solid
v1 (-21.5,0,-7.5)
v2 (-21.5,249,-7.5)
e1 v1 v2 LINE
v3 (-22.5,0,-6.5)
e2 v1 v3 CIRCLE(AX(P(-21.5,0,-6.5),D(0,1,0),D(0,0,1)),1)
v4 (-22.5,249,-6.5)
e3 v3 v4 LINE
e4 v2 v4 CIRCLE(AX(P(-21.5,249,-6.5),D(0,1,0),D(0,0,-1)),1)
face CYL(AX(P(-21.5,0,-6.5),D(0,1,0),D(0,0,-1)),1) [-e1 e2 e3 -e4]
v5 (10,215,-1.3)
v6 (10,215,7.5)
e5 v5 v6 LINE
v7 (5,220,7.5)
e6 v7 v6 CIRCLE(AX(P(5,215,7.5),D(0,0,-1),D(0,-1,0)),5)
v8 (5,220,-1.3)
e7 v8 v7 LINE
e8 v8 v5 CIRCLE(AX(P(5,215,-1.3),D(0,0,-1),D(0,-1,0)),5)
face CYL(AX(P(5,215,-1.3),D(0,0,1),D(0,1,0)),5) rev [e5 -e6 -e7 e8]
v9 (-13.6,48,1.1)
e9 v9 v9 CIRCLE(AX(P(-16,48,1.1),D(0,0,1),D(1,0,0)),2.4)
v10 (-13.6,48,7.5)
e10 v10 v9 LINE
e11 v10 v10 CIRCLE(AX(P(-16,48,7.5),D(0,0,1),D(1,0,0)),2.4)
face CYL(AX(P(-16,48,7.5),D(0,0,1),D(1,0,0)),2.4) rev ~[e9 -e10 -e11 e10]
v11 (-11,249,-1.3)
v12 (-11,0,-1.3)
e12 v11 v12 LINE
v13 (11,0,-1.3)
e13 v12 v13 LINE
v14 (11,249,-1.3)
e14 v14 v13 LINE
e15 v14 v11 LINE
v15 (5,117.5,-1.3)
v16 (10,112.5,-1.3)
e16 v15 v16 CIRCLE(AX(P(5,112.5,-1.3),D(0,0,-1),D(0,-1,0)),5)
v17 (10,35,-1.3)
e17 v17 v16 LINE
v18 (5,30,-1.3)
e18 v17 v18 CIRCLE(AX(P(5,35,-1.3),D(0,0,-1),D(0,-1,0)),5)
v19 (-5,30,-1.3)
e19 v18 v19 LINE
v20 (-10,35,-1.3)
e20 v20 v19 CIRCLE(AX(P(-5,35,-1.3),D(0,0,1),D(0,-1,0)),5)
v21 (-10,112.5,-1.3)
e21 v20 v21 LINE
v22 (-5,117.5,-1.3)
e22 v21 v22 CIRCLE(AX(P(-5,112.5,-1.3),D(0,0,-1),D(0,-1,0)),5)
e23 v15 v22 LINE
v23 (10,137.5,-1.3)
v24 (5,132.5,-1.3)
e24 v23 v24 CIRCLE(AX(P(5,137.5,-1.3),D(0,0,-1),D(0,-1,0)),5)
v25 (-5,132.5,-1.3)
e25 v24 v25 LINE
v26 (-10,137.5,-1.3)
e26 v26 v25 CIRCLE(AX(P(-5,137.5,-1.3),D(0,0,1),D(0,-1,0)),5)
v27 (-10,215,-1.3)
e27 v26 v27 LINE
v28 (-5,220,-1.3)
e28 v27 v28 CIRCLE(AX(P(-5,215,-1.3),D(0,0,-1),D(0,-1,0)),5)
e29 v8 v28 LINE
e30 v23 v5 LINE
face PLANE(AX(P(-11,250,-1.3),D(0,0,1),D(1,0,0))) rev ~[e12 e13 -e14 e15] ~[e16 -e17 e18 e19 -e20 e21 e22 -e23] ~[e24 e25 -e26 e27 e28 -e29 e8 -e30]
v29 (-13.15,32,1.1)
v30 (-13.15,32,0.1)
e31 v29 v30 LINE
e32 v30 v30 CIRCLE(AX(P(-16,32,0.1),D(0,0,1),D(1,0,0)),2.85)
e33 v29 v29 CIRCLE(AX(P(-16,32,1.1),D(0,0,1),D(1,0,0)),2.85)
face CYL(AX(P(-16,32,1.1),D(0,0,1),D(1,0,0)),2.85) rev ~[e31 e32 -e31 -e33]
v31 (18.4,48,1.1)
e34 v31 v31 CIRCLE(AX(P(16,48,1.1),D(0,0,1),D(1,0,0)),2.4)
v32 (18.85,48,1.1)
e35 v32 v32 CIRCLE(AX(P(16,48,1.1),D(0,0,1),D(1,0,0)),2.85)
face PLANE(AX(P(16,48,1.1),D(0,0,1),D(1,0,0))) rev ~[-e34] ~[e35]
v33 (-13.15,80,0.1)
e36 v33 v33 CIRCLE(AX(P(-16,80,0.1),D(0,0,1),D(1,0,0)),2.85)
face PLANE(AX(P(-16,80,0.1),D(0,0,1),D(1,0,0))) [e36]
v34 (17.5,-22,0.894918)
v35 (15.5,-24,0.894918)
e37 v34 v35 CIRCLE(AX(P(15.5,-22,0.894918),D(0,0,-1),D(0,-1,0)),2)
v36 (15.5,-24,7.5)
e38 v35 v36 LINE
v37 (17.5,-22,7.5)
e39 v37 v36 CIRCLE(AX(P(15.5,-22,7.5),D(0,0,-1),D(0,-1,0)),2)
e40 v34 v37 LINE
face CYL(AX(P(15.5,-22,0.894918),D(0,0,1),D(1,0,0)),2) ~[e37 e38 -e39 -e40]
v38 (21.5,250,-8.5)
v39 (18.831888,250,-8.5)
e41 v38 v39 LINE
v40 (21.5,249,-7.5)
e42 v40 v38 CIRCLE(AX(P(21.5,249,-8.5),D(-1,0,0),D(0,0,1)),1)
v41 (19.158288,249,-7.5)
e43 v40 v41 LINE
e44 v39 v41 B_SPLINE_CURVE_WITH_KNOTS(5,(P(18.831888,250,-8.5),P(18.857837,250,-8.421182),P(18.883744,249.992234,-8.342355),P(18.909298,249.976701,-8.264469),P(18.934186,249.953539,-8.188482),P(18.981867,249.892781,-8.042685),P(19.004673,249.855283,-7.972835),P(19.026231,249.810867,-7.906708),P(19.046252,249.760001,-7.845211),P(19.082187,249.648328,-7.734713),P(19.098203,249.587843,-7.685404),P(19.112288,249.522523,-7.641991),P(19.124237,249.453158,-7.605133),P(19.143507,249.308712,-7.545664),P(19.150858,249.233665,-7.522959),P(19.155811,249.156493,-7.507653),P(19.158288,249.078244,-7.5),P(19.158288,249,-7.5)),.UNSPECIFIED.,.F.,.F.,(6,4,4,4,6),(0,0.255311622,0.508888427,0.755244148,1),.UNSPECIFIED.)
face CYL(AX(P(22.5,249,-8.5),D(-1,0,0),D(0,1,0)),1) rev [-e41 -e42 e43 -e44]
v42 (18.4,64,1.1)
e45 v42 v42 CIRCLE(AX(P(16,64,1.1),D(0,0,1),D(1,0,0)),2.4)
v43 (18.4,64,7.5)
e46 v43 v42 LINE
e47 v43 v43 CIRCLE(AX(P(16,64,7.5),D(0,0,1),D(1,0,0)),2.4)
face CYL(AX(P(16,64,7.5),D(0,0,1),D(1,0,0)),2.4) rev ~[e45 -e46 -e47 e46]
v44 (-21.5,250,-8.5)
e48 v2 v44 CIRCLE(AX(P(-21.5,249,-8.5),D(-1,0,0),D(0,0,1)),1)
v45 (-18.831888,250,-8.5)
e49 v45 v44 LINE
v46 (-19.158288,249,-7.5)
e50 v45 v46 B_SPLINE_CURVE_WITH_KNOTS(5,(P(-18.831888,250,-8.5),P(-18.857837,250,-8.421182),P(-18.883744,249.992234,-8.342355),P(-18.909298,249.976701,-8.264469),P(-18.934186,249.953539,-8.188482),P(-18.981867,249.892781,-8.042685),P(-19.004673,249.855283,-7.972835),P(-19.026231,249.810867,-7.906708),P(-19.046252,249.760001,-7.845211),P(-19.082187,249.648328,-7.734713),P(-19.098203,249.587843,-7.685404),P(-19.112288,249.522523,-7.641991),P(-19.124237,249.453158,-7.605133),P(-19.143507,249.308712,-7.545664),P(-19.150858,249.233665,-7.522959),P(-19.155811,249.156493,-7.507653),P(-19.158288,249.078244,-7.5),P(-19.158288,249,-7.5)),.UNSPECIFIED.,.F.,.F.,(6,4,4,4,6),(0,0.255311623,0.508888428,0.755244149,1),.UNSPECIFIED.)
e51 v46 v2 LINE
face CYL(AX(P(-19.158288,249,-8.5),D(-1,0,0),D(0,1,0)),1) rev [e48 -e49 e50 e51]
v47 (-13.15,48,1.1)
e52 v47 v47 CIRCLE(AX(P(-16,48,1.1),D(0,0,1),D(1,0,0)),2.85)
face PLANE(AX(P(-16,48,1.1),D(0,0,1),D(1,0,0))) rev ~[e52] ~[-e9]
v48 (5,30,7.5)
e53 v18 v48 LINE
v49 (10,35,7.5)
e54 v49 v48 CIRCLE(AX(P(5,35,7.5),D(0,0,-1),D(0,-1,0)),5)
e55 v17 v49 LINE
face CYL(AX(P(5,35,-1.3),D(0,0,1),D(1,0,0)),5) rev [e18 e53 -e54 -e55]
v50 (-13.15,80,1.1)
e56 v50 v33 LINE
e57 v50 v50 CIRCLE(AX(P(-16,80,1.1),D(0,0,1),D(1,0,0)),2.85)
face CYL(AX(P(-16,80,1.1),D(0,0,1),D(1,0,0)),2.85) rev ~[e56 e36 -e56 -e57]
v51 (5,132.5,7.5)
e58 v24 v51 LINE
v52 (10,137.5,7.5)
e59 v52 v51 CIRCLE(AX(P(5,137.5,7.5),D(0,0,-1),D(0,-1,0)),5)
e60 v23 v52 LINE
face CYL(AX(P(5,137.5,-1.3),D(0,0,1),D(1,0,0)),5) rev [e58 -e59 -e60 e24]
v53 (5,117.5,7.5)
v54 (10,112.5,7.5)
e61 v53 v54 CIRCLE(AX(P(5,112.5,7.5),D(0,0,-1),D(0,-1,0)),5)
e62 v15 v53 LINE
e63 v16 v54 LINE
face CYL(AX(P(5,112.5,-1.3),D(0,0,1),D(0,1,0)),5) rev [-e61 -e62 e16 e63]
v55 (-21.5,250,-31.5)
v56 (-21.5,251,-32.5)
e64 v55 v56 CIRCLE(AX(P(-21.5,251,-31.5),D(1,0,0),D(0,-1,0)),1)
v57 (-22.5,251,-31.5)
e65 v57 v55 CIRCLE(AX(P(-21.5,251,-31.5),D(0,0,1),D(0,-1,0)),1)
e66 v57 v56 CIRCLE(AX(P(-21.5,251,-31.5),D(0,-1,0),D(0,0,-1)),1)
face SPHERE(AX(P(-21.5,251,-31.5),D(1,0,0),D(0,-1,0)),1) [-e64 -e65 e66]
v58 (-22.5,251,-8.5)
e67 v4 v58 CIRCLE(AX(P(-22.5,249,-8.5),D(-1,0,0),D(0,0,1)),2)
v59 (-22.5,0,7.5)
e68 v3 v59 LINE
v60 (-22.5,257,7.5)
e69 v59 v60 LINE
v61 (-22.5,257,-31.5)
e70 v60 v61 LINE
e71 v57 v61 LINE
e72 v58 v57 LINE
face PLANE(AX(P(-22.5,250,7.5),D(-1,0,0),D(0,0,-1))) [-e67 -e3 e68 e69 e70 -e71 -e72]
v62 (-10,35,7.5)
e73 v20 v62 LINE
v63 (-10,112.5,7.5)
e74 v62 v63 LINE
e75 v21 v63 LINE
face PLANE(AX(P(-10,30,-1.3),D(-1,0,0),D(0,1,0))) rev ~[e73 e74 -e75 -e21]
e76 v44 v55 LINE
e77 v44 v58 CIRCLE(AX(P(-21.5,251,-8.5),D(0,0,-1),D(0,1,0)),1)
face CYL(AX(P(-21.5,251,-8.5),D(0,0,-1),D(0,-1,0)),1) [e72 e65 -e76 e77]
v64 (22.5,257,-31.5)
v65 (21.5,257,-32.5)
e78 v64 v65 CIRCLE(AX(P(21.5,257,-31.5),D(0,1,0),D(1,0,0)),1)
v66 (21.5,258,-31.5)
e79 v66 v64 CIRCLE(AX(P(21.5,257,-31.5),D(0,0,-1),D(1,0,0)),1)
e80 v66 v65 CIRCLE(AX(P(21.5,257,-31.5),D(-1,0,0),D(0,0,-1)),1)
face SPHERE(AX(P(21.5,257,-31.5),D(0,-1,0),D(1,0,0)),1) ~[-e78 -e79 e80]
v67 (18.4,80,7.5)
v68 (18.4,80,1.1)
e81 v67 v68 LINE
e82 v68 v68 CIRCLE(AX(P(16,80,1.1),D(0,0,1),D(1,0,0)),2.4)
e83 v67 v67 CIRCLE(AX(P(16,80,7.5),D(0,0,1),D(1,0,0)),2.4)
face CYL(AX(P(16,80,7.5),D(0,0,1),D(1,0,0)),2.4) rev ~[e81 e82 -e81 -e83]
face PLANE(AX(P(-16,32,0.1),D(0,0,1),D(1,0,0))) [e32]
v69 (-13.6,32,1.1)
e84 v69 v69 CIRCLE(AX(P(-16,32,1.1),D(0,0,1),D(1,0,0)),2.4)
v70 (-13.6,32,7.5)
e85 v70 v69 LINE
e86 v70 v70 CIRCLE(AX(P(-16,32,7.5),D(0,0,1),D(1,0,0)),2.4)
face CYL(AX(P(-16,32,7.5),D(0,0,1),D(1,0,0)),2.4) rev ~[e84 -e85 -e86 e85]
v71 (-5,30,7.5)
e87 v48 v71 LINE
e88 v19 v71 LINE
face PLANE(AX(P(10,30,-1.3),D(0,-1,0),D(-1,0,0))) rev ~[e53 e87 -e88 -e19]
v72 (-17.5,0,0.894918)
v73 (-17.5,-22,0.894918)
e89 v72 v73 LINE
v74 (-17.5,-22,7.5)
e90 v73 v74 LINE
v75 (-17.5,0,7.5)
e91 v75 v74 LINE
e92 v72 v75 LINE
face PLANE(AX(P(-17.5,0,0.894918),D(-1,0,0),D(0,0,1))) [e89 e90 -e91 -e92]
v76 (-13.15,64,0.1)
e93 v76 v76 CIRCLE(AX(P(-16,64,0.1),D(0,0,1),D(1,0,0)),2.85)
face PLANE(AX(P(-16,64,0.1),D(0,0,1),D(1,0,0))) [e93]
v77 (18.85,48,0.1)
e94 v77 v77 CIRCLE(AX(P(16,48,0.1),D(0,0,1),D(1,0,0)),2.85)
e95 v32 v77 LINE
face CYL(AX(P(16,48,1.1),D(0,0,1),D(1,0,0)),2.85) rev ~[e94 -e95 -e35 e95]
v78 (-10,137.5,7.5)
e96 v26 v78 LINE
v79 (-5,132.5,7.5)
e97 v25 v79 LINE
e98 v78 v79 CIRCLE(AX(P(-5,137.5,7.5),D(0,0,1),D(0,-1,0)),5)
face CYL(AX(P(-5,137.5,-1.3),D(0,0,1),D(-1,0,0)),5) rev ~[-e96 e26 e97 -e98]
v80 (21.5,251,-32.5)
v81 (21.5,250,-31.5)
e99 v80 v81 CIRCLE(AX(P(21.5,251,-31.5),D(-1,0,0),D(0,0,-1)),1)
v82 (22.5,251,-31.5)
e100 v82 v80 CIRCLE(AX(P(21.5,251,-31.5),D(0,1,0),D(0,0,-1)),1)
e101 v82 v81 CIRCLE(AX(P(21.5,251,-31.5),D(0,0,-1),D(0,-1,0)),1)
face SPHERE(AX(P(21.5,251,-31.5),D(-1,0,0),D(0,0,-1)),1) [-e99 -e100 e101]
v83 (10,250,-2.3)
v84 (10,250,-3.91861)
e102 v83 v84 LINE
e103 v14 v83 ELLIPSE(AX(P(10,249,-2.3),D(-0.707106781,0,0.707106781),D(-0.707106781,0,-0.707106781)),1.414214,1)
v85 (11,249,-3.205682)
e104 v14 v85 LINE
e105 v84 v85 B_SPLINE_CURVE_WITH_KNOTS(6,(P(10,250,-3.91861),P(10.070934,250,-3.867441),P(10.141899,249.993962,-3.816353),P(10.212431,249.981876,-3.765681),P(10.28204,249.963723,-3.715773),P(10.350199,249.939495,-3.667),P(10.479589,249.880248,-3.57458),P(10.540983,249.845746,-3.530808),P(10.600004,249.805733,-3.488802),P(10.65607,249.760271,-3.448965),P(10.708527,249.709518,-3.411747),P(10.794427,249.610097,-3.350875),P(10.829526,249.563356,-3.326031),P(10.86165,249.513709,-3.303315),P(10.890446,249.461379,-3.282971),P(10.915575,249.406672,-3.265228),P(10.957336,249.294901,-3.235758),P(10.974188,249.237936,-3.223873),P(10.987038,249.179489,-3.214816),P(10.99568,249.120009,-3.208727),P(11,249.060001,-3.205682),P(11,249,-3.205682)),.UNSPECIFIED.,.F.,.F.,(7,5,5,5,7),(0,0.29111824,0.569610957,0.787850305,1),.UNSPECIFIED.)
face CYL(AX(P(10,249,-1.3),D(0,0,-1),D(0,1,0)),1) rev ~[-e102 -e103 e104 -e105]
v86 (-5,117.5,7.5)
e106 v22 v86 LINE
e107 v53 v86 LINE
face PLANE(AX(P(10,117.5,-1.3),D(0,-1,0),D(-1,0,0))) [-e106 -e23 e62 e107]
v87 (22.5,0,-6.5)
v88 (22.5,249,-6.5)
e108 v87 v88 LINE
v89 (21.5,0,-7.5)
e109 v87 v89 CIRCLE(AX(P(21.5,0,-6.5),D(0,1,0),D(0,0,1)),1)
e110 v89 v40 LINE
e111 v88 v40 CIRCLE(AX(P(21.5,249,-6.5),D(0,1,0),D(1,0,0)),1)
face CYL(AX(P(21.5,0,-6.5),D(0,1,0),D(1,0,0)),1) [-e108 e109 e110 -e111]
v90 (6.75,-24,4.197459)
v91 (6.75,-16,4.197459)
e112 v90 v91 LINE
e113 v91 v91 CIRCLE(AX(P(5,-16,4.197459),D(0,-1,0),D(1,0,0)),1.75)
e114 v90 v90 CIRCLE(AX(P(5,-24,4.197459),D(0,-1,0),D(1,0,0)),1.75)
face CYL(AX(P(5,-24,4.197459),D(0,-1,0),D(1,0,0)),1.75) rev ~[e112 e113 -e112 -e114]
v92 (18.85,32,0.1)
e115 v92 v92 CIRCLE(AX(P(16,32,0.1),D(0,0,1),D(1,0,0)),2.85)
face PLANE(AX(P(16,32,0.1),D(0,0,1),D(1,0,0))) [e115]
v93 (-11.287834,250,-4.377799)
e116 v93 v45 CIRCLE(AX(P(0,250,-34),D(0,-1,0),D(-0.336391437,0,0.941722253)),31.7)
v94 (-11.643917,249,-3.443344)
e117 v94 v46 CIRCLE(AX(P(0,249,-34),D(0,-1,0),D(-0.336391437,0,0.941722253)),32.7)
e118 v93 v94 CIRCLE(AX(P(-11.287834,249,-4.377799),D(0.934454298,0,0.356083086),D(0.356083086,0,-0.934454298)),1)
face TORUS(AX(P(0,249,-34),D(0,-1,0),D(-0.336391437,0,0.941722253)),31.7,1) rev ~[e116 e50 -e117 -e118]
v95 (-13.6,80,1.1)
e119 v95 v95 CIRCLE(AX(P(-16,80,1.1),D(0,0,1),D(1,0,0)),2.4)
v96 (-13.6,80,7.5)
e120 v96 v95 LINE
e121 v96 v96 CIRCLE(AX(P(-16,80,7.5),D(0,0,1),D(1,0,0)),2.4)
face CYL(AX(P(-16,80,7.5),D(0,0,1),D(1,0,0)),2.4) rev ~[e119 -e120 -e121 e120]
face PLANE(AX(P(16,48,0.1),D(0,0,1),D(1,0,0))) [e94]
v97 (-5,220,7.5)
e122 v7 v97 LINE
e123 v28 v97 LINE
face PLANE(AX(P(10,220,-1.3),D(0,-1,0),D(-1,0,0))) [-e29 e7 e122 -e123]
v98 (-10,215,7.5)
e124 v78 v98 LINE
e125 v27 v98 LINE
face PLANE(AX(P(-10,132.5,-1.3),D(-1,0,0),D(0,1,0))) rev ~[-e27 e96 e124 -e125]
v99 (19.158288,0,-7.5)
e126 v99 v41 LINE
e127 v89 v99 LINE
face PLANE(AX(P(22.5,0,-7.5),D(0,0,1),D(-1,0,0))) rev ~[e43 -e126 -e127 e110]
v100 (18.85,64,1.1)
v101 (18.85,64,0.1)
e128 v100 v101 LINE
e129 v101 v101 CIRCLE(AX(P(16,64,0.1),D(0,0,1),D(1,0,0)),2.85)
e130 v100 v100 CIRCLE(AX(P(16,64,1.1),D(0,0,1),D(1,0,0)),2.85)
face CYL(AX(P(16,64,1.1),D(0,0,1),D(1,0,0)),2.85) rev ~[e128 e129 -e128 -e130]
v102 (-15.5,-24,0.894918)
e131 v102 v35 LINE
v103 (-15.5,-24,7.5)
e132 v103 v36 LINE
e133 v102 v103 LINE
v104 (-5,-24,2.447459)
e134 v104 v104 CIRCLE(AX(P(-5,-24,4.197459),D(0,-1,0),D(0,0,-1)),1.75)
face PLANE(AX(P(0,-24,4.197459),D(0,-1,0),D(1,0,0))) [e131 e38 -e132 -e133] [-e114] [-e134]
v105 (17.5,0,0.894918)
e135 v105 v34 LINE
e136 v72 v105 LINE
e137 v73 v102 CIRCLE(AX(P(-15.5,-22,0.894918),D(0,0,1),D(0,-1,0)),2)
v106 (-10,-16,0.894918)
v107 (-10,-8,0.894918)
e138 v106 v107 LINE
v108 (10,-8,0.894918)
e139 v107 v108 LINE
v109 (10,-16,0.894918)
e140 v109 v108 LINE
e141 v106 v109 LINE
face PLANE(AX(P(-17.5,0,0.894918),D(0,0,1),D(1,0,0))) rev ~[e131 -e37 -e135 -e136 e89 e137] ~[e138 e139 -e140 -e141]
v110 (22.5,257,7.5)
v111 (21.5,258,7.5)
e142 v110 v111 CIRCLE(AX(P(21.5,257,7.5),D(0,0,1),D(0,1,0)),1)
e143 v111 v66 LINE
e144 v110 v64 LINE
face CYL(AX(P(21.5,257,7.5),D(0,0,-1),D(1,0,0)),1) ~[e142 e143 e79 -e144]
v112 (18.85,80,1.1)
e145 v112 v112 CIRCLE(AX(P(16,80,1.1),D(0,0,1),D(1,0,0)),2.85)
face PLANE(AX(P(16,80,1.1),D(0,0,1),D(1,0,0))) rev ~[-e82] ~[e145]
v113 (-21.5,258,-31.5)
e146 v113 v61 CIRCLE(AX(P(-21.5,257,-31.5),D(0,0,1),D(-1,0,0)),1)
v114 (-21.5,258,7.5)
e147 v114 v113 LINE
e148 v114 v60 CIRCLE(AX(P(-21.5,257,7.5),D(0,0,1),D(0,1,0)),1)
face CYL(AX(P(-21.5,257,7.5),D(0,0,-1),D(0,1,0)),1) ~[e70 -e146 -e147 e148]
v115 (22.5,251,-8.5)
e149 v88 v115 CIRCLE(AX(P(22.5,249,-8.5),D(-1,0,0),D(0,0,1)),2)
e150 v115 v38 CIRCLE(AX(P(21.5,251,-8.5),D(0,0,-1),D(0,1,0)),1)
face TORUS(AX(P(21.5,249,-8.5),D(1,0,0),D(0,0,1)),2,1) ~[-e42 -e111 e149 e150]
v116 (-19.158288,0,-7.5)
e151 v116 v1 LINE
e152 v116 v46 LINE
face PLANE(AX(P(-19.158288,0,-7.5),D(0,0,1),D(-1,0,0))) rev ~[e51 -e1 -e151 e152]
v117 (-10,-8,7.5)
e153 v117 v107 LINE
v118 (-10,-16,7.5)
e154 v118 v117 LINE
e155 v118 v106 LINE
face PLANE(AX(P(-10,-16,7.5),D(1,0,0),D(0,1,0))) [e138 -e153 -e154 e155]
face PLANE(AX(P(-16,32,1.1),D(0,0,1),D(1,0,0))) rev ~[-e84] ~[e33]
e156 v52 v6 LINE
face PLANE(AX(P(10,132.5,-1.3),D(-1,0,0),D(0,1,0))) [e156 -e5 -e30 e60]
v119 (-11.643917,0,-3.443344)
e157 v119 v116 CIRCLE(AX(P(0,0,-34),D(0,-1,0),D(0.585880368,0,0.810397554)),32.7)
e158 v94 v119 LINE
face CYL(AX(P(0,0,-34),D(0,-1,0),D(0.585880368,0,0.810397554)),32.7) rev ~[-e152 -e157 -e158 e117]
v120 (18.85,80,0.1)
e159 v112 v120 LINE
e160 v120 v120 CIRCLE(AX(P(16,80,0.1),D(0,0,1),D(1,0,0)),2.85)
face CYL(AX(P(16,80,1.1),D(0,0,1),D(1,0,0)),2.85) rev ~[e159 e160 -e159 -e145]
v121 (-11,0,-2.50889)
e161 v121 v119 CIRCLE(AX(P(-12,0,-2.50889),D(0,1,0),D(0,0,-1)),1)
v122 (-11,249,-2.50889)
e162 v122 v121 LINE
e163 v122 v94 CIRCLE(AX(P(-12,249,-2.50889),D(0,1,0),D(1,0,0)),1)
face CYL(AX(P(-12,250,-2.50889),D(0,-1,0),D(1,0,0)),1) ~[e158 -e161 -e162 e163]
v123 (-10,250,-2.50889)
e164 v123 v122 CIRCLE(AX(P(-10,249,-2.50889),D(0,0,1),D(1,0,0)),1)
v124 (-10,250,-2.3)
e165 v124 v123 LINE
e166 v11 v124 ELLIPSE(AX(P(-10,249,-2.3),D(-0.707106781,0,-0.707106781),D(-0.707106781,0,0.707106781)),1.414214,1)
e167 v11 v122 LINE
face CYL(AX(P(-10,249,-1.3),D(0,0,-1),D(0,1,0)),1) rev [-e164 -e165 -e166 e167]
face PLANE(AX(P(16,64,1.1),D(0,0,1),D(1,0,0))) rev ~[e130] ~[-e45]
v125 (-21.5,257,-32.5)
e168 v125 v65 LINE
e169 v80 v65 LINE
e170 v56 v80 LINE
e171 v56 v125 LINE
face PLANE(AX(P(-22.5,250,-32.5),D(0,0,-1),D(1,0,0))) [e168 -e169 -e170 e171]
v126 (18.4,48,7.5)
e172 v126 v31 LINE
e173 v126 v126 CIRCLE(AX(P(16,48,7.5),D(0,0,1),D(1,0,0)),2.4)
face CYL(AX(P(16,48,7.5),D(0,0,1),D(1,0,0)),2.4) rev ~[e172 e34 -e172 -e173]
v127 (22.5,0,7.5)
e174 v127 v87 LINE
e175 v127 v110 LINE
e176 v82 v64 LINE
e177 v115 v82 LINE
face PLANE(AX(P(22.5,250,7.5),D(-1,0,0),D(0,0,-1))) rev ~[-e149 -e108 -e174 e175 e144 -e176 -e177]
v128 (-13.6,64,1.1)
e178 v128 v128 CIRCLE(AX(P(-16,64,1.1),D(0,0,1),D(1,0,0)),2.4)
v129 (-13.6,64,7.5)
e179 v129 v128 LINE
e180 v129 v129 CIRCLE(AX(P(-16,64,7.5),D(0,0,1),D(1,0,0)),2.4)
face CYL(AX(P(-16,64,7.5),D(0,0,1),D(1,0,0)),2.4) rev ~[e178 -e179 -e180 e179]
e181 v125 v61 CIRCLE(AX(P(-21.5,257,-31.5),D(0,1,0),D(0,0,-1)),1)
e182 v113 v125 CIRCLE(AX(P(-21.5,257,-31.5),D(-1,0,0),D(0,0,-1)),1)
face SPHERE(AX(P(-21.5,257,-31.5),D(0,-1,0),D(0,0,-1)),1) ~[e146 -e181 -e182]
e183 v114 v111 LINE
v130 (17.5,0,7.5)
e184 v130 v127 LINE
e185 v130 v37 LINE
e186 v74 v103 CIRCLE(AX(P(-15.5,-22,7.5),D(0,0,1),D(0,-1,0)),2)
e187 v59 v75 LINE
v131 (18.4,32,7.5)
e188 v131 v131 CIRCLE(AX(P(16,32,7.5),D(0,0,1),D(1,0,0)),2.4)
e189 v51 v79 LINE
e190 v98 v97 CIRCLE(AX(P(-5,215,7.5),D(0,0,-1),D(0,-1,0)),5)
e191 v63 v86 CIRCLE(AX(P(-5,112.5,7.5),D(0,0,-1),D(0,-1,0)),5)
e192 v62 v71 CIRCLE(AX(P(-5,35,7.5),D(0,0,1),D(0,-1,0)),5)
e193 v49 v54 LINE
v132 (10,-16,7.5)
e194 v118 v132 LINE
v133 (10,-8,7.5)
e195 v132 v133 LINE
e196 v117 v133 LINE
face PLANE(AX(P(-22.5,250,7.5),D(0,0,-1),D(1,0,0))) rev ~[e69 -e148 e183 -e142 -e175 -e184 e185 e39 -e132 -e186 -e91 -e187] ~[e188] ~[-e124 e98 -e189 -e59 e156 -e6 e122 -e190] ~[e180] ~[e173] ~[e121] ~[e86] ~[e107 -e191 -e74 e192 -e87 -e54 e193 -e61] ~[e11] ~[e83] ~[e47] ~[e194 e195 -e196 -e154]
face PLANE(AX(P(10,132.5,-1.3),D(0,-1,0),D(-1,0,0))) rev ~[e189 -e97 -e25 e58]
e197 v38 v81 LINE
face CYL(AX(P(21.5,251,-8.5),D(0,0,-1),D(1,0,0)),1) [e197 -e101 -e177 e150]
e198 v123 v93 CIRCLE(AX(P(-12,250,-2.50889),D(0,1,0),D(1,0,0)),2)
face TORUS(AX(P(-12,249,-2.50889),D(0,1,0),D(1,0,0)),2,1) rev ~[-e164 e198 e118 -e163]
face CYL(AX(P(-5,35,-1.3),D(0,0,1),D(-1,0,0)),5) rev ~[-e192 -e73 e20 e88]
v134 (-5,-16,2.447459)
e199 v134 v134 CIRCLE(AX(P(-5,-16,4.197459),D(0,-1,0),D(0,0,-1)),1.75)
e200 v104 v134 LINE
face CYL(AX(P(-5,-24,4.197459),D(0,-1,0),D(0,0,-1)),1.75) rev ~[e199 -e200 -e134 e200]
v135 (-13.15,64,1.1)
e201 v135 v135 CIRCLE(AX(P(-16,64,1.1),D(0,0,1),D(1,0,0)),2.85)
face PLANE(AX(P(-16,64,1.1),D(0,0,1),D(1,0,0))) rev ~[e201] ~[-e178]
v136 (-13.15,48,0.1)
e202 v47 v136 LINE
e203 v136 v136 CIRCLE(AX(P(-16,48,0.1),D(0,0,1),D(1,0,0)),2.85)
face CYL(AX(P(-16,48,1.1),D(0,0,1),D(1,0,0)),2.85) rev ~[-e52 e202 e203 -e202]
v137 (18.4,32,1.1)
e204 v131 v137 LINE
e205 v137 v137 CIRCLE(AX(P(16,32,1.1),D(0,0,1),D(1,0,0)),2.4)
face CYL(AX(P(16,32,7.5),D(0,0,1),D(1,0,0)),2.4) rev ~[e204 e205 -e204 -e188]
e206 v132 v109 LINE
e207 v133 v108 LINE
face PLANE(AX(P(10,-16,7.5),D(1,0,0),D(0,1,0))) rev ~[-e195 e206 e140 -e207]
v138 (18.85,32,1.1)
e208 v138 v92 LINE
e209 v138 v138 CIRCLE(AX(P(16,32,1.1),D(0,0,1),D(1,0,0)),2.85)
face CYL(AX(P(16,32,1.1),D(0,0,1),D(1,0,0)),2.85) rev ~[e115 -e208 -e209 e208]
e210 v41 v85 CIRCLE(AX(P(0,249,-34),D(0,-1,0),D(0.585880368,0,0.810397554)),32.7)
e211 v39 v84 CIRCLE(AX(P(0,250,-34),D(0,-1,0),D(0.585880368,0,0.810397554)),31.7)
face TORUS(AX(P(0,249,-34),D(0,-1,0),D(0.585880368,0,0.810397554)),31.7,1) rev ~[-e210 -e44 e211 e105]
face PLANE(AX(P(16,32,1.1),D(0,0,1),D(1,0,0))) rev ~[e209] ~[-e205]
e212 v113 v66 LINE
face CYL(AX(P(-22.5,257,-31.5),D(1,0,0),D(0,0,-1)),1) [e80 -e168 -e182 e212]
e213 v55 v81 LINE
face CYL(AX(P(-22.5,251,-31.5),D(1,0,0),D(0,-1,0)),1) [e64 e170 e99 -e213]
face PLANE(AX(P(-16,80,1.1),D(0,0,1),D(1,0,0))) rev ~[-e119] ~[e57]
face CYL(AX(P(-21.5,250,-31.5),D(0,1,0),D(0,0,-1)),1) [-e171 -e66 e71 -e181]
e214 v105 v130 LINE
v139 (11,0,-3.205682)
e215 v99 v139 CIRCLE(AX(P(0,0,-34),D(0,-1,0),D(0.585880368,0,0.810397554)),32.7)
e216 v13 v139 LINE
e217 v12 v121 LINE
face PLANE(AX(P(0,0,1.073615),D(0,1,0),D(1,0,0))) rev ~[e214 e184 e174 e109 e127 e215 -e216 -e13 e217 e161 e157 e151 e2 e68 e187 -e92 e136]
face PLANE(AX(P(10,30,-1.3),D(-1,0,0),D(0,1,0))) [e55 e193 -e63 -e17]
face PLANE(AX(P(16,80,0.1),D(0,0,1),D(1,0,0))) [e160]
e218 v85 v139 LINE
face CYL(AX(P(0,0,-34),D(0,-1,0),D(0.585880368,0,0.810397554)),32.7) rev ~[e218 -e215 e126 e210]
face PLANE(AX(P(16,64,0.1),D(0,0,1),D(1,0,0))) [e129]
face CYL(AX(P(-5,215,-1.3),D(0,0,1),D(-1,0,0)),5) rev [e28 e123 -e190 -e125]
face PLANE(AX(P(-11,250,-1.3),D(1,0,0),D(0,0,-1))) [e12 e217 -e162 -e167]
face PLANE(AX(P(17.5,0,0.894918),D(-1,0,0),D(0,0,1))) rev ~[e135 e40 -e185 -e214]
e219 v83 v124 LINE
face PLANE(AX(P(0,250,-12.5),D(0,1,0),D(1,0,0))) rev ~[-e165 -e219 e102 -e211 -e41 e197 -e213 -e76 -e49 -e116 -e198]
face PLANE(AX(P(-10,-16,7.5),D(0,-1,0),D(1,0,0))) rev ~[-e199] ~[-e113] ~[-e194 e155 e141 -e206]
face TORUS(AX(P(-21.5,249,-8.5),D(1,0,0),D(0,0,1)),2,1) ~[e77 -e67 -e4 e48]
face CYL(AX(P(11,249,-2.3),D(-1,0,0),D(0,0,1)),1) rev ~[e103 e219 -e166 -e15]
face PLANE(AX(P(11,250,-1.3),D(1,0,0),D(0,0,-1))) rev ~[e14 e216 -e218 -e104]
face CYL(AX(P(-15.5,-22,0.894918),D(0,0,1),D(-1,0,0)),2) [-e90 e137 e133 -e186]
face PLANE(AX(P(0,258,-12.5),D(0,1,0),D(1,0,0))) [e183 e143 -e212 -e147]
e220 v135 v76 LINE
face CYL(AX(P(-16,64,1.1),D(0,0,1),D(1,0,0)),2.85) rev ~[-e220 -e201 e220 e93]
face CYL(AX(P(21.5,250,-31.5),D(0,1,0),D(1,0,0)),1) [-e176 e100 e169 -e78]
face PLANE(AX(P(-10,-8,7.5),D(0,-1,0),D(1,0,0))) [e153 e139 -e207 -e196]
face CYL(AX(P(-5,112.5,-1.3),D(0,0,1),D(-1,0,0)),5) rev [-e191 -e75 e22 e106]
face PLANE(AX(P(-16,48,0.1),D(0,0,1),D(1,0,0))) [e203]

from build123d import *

# Parameters (mm, degrees)
RUNDUNG_DEPTH                   = 250
SKIZZE2_W                       = 22
SKIZZE2_H                       = 3.270726357
AUSSPARUNGLAUF_DEPTH            = 252.122480077
SKIZZE4_W                       = 20
SKIZZE4_H                       = 87.5
SCHNITT_LINEAR_AUSTRAGEN2_DEPTH = 252.164667101
SKIZZE5_R                       = 2.4
SCHNITT_LINEAR_AUSTRAGEN4_DEPTH = 6.4
SKIZZE6_R                       = 2.85
SCHNITT_LINEAR_AUSTRAGEN5_DEPTH = 1
SKIZZE9_W                       = 35
SKIZZE9_H                       = 6.605082277
AUFSATZ_LINEAR_AUSTRAGEN1_DEPTH = 24
SKIZZE10_W                      = 20
SKIZZE10_H                      = 8
SCHNITT_LINEAR_AUSTRAGEN7_DEPTH = 24
SCHNITT_LINEAR_AUSTRAGEN8_REACH = 277.025
SKIZZE11_R                      = 1.75
SKIZZE12_W                      = 45
SKIZZE12_H                      = 40
AUFSATZ_LINEAR_AUSTRAGEN2_DEPTH = 8
VERRUNDUNG1_R                   = 5
VERRUNDUNG6_R                   = 1
VERRUNDUNG7_R                   = 1
VERRUNDUNG8_R                   = 2


with BuildPart() as part:
    # Skizze1 → Rundung (new body)
    with BuildSketch(Plane(origin=(0, 0, 0), x_dir=(1, 0, 0), z_dir=(0, 1, 0))):
        with BuildLine():
            Line((-19.158288024, 7.5), (-22.5, 7.5))
            Line((-22.5, 7.5), (-22.5, -7.5))
            Line((-22.5, -7.5), (22.5, -7.5))
            Line((22.5, -7.5), (22.5, 7.5))
            Line((22.5, 7.5), (19.158288024, 7.5))
            ThreePointArc((19.158288024, 7.5), (0, 1.3), (-19.158288024, 7.5))
        make_face()
    extrude(amount=RUNDUNG_DEPTH)

    # Skizze2 → AussparungLauf (cut, through all)
    with BuildSketch(Plane(origin=(0, 250, 0), x_dir=(1, 0, 0), z_dir=(0, 1, 0))):
        with Locations((0, 2.935363178)):
            Rectangle(SKIZZE2_W, SKIZZE2_H)
    extrude(amount=-AUSSPARUNGLAUF_DEPTH, mode=Mode.SUBTRACT)

    # Skizze4 → Schnitt-Linear austragen2 (cut, through all)
    with BuildSketch(Plane(origin=(0, 0, -1.3), x_dir=(-1, 0, 0), z_dir=(0, 0, -1))):
        with Locations((0, 73.75)):
            Rectangle(SKIZZE4_W, SKIZZE4_H)
        with Locations((0, 176.25)):
            Rectangle(SKIZZE4_W, SKIZZE4_H)
    extrude(amount=-SCHNITT_LINEAR_AUSTRAGEN2_DEPTH, mode=Mode.SUBTRACT)

    # Skizze5 → Schnitt-Linear austragen4 (cut)
    with BuildSketch(Plane.XY.offset(7.5)):
        with Locations((-16, 32)):
            Circle(SKIZZE5_R)
        with Locations((16, 32)):
            Circle(SKIZZE5_R)
        with Locations((16, 48)):
            Circle(SKIZZE5_R)
        with Locations((16, 64)):
            Circle(SKIZZE5_R)
        with Locations((16, 80)):
            Circle(SKIZZE5_R)
        with Locations((-16, 48)):
            Circle(SKIZZE5_R)
        with Locations((-16, 64)):
            Circle(SKIZZE5_R)
        with Locations((-16, 80)):
            Circle(SKIZZE5_R)
    extrude(amount=-SCHNITT_LINEAR_AUSTRAGEN4_DEPTH, mode=Mode.SUBTRACT)

    # Skizze6 → Schnitt-Linear austragen5 (cut)
    with BuildSketch(Plane.XY.offset(1.1)):
        with Locations((-16, 32)):
            Circle(SKIZZE6_R)
        with Locations((16, 32)):
            Circle(SKIZZE6_R)
        with Locations((16, 48)):
            Circle(SKIZZE6_R)
        with Locations((16, 64)):
            Circle(SKIZZE6_R)
        with Locations((16, 80)):
            Circle(SKIZZE6_R)
        with Locations((-16, 48)):
            Circle(SKIZZE6_R)
        with Locations((-16, 64)):
            Circle(SKIZZE6_R)
        with Locations((-16, 80)):
            Circle(SKIZZE6_R)
    extrude(amount=-SCHNITT_LINEAR_AUSTRAGEN5_DEPTH, mode=Mode.SUBTRACT)

    # Skizze9 → Aufsatz-Linear austragen1 (add)
    with BuildSketch(Plane.XZ):
        with Locations((0, 4.197458862)):
            Rectangle(SKIZZE9_W, SKIZZE9_H)
    extrude(amount=AUFSATZ_LINEAR_AUSTRAGEN1_DEPTH)

    # Skizze10 → Schnitt-Linear austragen7 (cut)
    with BuildSketch(Plane.XY.offset(7.5)):
        with Locations((0, -12)):
            Rectangle(SKIZZE10_W, SKIZZE10_H)
    extrude(amount=-SCHNITT_LINEAR_AUSTRAGEN7_DEPTH, mode=Mode.SUBTRACT)

    # Skizze11 → Schnitt-Linear austragen8 (cut, up to next)
    with BuildSketch(Plane.XZ.offset(24), mode=Mode.PRIVATE) as schnitt_linear_austragen8_sk1:
        with Locations(Location((-5, 4.197458861, 0), (0, 0, 270))):
            Circle(SKIZZE11_R)
    schnitt_linear_austragen8_tool1 = extrude(schnitt_linear_austragen8_sk1.sketch, amount=-SCHNITT_LINEAR_AUSTRAGEN8_REACH, mode=Mode.PRIVATE) & part.part
    # Skizze11 → Schnitt-Linear austragen8 (cut, up to next)
    with BuildSketch(Plane.XZ.offset(24), mode=Mode.PRIVATE) as schnitt_linear_austragen8_sk2:
        with Locations((5, 4.197458861)):
            Circle(SKIZZE11_R)
    schnitt_linear_austragen8_tool2 = extrude(schnitt_linear_austragen8_sk2.sketch, amount=-SCHNITT_LINEAR_AUSTRAGEN8_REACH, mode=Mode.PRIVATE) & part.part
    add(schnitt_linear_austragen8_tool1.solids().sort_by_distance((-5, -24, 4.197459))[0], mode=Mode.SUBTRACT)
    add(schnitt_linear_austragen8_tool2.solids().sort_by_distance((5, -24, 4.197459))[0], mode=Mode.SUBTRACT)

    # Skizze12 → Aufsatz-Linear austragen2 (add)
    with BuildSketch(Plane(origin=(0, 250, 0), x_dir=(1, 0, 0), z_dir=(0, 1, 0))):
        with Locations((0, 12.5)):
            Rectangle(SKIZZE12_W, SKIZZE12_H)
    extrude(amount=AUFSATZ_LINEAR_AUSTRAGEN2_DEPTH)

    # Verrundung1
    verrundung1_edges = [part.edges().sort_by_distance(p)[0] for p in [
        (10, 132.5, 3.1),
        (10, 220, 3.1),
        (-10, 220, 3.1),
        (-10, 132.5, 3.1),
        (10, 30, 3.1),
        (10, 117.5, 3.1),
        (-10, 117.5, 3.1),
        (-10, 30, 3.1),
    ]]
    fillet(verrundung1_edges, radius=VERRUNDUNG1_R)

    # Verrundung6
    verrundung6_edges = [part.edges().sort_by_distance(p)[0] for p in [
        (-20.829144012, 250, -7.5),
        (15.231246671, 250, -5.063878545),
        (0, 250, -1.3),
        (11, 250, -2.252841171),
        (-11, 125, -3.205682342),
        (-11, 250, -2.252841171),
        (20.829144012, 250, -7.5),
        (-15.231246671, 250, -5.063878545),
    ]]
    fillet(verrundung6_edges, radius=VERRUNDUNG6_R)

    # Verrundung7
    verrundung7_edges = [part.edges().sort_by_distance(p)[0] for p in [
        (0, 250, -32.5),
        (22.5, 254, -32.5),
        (-22.5, 250, -20.5),
        (-22.5, 254, -32.5),
        (22.5, 258, -12.5),
        (0, 258, -32.5),
        (-22.5, 258, -12.5),
        (22.5, 250, -20.5),
        (22.5, 124.5, -7.5),
        (-22.5, 124.5, -7.5),
        (22.5, 249.707106781, -7.792893219),
        (-22.5, 249.707106781, -7.792893219),
    ]]
    fillet(verrundung7_edges, radius=VERRUNDUNG7_R)

    # Verrundung8
    verrundung8_edges = [part.edges().sort_by_distance(p)[0] for p in [
        (-17.5, -24, 4.197458861),
        (17.5, -24, 4.197458861),
    ]]
    fillet(verrundung8_edges, radius=VERRUNDUNG8_R)


solid = part.part
